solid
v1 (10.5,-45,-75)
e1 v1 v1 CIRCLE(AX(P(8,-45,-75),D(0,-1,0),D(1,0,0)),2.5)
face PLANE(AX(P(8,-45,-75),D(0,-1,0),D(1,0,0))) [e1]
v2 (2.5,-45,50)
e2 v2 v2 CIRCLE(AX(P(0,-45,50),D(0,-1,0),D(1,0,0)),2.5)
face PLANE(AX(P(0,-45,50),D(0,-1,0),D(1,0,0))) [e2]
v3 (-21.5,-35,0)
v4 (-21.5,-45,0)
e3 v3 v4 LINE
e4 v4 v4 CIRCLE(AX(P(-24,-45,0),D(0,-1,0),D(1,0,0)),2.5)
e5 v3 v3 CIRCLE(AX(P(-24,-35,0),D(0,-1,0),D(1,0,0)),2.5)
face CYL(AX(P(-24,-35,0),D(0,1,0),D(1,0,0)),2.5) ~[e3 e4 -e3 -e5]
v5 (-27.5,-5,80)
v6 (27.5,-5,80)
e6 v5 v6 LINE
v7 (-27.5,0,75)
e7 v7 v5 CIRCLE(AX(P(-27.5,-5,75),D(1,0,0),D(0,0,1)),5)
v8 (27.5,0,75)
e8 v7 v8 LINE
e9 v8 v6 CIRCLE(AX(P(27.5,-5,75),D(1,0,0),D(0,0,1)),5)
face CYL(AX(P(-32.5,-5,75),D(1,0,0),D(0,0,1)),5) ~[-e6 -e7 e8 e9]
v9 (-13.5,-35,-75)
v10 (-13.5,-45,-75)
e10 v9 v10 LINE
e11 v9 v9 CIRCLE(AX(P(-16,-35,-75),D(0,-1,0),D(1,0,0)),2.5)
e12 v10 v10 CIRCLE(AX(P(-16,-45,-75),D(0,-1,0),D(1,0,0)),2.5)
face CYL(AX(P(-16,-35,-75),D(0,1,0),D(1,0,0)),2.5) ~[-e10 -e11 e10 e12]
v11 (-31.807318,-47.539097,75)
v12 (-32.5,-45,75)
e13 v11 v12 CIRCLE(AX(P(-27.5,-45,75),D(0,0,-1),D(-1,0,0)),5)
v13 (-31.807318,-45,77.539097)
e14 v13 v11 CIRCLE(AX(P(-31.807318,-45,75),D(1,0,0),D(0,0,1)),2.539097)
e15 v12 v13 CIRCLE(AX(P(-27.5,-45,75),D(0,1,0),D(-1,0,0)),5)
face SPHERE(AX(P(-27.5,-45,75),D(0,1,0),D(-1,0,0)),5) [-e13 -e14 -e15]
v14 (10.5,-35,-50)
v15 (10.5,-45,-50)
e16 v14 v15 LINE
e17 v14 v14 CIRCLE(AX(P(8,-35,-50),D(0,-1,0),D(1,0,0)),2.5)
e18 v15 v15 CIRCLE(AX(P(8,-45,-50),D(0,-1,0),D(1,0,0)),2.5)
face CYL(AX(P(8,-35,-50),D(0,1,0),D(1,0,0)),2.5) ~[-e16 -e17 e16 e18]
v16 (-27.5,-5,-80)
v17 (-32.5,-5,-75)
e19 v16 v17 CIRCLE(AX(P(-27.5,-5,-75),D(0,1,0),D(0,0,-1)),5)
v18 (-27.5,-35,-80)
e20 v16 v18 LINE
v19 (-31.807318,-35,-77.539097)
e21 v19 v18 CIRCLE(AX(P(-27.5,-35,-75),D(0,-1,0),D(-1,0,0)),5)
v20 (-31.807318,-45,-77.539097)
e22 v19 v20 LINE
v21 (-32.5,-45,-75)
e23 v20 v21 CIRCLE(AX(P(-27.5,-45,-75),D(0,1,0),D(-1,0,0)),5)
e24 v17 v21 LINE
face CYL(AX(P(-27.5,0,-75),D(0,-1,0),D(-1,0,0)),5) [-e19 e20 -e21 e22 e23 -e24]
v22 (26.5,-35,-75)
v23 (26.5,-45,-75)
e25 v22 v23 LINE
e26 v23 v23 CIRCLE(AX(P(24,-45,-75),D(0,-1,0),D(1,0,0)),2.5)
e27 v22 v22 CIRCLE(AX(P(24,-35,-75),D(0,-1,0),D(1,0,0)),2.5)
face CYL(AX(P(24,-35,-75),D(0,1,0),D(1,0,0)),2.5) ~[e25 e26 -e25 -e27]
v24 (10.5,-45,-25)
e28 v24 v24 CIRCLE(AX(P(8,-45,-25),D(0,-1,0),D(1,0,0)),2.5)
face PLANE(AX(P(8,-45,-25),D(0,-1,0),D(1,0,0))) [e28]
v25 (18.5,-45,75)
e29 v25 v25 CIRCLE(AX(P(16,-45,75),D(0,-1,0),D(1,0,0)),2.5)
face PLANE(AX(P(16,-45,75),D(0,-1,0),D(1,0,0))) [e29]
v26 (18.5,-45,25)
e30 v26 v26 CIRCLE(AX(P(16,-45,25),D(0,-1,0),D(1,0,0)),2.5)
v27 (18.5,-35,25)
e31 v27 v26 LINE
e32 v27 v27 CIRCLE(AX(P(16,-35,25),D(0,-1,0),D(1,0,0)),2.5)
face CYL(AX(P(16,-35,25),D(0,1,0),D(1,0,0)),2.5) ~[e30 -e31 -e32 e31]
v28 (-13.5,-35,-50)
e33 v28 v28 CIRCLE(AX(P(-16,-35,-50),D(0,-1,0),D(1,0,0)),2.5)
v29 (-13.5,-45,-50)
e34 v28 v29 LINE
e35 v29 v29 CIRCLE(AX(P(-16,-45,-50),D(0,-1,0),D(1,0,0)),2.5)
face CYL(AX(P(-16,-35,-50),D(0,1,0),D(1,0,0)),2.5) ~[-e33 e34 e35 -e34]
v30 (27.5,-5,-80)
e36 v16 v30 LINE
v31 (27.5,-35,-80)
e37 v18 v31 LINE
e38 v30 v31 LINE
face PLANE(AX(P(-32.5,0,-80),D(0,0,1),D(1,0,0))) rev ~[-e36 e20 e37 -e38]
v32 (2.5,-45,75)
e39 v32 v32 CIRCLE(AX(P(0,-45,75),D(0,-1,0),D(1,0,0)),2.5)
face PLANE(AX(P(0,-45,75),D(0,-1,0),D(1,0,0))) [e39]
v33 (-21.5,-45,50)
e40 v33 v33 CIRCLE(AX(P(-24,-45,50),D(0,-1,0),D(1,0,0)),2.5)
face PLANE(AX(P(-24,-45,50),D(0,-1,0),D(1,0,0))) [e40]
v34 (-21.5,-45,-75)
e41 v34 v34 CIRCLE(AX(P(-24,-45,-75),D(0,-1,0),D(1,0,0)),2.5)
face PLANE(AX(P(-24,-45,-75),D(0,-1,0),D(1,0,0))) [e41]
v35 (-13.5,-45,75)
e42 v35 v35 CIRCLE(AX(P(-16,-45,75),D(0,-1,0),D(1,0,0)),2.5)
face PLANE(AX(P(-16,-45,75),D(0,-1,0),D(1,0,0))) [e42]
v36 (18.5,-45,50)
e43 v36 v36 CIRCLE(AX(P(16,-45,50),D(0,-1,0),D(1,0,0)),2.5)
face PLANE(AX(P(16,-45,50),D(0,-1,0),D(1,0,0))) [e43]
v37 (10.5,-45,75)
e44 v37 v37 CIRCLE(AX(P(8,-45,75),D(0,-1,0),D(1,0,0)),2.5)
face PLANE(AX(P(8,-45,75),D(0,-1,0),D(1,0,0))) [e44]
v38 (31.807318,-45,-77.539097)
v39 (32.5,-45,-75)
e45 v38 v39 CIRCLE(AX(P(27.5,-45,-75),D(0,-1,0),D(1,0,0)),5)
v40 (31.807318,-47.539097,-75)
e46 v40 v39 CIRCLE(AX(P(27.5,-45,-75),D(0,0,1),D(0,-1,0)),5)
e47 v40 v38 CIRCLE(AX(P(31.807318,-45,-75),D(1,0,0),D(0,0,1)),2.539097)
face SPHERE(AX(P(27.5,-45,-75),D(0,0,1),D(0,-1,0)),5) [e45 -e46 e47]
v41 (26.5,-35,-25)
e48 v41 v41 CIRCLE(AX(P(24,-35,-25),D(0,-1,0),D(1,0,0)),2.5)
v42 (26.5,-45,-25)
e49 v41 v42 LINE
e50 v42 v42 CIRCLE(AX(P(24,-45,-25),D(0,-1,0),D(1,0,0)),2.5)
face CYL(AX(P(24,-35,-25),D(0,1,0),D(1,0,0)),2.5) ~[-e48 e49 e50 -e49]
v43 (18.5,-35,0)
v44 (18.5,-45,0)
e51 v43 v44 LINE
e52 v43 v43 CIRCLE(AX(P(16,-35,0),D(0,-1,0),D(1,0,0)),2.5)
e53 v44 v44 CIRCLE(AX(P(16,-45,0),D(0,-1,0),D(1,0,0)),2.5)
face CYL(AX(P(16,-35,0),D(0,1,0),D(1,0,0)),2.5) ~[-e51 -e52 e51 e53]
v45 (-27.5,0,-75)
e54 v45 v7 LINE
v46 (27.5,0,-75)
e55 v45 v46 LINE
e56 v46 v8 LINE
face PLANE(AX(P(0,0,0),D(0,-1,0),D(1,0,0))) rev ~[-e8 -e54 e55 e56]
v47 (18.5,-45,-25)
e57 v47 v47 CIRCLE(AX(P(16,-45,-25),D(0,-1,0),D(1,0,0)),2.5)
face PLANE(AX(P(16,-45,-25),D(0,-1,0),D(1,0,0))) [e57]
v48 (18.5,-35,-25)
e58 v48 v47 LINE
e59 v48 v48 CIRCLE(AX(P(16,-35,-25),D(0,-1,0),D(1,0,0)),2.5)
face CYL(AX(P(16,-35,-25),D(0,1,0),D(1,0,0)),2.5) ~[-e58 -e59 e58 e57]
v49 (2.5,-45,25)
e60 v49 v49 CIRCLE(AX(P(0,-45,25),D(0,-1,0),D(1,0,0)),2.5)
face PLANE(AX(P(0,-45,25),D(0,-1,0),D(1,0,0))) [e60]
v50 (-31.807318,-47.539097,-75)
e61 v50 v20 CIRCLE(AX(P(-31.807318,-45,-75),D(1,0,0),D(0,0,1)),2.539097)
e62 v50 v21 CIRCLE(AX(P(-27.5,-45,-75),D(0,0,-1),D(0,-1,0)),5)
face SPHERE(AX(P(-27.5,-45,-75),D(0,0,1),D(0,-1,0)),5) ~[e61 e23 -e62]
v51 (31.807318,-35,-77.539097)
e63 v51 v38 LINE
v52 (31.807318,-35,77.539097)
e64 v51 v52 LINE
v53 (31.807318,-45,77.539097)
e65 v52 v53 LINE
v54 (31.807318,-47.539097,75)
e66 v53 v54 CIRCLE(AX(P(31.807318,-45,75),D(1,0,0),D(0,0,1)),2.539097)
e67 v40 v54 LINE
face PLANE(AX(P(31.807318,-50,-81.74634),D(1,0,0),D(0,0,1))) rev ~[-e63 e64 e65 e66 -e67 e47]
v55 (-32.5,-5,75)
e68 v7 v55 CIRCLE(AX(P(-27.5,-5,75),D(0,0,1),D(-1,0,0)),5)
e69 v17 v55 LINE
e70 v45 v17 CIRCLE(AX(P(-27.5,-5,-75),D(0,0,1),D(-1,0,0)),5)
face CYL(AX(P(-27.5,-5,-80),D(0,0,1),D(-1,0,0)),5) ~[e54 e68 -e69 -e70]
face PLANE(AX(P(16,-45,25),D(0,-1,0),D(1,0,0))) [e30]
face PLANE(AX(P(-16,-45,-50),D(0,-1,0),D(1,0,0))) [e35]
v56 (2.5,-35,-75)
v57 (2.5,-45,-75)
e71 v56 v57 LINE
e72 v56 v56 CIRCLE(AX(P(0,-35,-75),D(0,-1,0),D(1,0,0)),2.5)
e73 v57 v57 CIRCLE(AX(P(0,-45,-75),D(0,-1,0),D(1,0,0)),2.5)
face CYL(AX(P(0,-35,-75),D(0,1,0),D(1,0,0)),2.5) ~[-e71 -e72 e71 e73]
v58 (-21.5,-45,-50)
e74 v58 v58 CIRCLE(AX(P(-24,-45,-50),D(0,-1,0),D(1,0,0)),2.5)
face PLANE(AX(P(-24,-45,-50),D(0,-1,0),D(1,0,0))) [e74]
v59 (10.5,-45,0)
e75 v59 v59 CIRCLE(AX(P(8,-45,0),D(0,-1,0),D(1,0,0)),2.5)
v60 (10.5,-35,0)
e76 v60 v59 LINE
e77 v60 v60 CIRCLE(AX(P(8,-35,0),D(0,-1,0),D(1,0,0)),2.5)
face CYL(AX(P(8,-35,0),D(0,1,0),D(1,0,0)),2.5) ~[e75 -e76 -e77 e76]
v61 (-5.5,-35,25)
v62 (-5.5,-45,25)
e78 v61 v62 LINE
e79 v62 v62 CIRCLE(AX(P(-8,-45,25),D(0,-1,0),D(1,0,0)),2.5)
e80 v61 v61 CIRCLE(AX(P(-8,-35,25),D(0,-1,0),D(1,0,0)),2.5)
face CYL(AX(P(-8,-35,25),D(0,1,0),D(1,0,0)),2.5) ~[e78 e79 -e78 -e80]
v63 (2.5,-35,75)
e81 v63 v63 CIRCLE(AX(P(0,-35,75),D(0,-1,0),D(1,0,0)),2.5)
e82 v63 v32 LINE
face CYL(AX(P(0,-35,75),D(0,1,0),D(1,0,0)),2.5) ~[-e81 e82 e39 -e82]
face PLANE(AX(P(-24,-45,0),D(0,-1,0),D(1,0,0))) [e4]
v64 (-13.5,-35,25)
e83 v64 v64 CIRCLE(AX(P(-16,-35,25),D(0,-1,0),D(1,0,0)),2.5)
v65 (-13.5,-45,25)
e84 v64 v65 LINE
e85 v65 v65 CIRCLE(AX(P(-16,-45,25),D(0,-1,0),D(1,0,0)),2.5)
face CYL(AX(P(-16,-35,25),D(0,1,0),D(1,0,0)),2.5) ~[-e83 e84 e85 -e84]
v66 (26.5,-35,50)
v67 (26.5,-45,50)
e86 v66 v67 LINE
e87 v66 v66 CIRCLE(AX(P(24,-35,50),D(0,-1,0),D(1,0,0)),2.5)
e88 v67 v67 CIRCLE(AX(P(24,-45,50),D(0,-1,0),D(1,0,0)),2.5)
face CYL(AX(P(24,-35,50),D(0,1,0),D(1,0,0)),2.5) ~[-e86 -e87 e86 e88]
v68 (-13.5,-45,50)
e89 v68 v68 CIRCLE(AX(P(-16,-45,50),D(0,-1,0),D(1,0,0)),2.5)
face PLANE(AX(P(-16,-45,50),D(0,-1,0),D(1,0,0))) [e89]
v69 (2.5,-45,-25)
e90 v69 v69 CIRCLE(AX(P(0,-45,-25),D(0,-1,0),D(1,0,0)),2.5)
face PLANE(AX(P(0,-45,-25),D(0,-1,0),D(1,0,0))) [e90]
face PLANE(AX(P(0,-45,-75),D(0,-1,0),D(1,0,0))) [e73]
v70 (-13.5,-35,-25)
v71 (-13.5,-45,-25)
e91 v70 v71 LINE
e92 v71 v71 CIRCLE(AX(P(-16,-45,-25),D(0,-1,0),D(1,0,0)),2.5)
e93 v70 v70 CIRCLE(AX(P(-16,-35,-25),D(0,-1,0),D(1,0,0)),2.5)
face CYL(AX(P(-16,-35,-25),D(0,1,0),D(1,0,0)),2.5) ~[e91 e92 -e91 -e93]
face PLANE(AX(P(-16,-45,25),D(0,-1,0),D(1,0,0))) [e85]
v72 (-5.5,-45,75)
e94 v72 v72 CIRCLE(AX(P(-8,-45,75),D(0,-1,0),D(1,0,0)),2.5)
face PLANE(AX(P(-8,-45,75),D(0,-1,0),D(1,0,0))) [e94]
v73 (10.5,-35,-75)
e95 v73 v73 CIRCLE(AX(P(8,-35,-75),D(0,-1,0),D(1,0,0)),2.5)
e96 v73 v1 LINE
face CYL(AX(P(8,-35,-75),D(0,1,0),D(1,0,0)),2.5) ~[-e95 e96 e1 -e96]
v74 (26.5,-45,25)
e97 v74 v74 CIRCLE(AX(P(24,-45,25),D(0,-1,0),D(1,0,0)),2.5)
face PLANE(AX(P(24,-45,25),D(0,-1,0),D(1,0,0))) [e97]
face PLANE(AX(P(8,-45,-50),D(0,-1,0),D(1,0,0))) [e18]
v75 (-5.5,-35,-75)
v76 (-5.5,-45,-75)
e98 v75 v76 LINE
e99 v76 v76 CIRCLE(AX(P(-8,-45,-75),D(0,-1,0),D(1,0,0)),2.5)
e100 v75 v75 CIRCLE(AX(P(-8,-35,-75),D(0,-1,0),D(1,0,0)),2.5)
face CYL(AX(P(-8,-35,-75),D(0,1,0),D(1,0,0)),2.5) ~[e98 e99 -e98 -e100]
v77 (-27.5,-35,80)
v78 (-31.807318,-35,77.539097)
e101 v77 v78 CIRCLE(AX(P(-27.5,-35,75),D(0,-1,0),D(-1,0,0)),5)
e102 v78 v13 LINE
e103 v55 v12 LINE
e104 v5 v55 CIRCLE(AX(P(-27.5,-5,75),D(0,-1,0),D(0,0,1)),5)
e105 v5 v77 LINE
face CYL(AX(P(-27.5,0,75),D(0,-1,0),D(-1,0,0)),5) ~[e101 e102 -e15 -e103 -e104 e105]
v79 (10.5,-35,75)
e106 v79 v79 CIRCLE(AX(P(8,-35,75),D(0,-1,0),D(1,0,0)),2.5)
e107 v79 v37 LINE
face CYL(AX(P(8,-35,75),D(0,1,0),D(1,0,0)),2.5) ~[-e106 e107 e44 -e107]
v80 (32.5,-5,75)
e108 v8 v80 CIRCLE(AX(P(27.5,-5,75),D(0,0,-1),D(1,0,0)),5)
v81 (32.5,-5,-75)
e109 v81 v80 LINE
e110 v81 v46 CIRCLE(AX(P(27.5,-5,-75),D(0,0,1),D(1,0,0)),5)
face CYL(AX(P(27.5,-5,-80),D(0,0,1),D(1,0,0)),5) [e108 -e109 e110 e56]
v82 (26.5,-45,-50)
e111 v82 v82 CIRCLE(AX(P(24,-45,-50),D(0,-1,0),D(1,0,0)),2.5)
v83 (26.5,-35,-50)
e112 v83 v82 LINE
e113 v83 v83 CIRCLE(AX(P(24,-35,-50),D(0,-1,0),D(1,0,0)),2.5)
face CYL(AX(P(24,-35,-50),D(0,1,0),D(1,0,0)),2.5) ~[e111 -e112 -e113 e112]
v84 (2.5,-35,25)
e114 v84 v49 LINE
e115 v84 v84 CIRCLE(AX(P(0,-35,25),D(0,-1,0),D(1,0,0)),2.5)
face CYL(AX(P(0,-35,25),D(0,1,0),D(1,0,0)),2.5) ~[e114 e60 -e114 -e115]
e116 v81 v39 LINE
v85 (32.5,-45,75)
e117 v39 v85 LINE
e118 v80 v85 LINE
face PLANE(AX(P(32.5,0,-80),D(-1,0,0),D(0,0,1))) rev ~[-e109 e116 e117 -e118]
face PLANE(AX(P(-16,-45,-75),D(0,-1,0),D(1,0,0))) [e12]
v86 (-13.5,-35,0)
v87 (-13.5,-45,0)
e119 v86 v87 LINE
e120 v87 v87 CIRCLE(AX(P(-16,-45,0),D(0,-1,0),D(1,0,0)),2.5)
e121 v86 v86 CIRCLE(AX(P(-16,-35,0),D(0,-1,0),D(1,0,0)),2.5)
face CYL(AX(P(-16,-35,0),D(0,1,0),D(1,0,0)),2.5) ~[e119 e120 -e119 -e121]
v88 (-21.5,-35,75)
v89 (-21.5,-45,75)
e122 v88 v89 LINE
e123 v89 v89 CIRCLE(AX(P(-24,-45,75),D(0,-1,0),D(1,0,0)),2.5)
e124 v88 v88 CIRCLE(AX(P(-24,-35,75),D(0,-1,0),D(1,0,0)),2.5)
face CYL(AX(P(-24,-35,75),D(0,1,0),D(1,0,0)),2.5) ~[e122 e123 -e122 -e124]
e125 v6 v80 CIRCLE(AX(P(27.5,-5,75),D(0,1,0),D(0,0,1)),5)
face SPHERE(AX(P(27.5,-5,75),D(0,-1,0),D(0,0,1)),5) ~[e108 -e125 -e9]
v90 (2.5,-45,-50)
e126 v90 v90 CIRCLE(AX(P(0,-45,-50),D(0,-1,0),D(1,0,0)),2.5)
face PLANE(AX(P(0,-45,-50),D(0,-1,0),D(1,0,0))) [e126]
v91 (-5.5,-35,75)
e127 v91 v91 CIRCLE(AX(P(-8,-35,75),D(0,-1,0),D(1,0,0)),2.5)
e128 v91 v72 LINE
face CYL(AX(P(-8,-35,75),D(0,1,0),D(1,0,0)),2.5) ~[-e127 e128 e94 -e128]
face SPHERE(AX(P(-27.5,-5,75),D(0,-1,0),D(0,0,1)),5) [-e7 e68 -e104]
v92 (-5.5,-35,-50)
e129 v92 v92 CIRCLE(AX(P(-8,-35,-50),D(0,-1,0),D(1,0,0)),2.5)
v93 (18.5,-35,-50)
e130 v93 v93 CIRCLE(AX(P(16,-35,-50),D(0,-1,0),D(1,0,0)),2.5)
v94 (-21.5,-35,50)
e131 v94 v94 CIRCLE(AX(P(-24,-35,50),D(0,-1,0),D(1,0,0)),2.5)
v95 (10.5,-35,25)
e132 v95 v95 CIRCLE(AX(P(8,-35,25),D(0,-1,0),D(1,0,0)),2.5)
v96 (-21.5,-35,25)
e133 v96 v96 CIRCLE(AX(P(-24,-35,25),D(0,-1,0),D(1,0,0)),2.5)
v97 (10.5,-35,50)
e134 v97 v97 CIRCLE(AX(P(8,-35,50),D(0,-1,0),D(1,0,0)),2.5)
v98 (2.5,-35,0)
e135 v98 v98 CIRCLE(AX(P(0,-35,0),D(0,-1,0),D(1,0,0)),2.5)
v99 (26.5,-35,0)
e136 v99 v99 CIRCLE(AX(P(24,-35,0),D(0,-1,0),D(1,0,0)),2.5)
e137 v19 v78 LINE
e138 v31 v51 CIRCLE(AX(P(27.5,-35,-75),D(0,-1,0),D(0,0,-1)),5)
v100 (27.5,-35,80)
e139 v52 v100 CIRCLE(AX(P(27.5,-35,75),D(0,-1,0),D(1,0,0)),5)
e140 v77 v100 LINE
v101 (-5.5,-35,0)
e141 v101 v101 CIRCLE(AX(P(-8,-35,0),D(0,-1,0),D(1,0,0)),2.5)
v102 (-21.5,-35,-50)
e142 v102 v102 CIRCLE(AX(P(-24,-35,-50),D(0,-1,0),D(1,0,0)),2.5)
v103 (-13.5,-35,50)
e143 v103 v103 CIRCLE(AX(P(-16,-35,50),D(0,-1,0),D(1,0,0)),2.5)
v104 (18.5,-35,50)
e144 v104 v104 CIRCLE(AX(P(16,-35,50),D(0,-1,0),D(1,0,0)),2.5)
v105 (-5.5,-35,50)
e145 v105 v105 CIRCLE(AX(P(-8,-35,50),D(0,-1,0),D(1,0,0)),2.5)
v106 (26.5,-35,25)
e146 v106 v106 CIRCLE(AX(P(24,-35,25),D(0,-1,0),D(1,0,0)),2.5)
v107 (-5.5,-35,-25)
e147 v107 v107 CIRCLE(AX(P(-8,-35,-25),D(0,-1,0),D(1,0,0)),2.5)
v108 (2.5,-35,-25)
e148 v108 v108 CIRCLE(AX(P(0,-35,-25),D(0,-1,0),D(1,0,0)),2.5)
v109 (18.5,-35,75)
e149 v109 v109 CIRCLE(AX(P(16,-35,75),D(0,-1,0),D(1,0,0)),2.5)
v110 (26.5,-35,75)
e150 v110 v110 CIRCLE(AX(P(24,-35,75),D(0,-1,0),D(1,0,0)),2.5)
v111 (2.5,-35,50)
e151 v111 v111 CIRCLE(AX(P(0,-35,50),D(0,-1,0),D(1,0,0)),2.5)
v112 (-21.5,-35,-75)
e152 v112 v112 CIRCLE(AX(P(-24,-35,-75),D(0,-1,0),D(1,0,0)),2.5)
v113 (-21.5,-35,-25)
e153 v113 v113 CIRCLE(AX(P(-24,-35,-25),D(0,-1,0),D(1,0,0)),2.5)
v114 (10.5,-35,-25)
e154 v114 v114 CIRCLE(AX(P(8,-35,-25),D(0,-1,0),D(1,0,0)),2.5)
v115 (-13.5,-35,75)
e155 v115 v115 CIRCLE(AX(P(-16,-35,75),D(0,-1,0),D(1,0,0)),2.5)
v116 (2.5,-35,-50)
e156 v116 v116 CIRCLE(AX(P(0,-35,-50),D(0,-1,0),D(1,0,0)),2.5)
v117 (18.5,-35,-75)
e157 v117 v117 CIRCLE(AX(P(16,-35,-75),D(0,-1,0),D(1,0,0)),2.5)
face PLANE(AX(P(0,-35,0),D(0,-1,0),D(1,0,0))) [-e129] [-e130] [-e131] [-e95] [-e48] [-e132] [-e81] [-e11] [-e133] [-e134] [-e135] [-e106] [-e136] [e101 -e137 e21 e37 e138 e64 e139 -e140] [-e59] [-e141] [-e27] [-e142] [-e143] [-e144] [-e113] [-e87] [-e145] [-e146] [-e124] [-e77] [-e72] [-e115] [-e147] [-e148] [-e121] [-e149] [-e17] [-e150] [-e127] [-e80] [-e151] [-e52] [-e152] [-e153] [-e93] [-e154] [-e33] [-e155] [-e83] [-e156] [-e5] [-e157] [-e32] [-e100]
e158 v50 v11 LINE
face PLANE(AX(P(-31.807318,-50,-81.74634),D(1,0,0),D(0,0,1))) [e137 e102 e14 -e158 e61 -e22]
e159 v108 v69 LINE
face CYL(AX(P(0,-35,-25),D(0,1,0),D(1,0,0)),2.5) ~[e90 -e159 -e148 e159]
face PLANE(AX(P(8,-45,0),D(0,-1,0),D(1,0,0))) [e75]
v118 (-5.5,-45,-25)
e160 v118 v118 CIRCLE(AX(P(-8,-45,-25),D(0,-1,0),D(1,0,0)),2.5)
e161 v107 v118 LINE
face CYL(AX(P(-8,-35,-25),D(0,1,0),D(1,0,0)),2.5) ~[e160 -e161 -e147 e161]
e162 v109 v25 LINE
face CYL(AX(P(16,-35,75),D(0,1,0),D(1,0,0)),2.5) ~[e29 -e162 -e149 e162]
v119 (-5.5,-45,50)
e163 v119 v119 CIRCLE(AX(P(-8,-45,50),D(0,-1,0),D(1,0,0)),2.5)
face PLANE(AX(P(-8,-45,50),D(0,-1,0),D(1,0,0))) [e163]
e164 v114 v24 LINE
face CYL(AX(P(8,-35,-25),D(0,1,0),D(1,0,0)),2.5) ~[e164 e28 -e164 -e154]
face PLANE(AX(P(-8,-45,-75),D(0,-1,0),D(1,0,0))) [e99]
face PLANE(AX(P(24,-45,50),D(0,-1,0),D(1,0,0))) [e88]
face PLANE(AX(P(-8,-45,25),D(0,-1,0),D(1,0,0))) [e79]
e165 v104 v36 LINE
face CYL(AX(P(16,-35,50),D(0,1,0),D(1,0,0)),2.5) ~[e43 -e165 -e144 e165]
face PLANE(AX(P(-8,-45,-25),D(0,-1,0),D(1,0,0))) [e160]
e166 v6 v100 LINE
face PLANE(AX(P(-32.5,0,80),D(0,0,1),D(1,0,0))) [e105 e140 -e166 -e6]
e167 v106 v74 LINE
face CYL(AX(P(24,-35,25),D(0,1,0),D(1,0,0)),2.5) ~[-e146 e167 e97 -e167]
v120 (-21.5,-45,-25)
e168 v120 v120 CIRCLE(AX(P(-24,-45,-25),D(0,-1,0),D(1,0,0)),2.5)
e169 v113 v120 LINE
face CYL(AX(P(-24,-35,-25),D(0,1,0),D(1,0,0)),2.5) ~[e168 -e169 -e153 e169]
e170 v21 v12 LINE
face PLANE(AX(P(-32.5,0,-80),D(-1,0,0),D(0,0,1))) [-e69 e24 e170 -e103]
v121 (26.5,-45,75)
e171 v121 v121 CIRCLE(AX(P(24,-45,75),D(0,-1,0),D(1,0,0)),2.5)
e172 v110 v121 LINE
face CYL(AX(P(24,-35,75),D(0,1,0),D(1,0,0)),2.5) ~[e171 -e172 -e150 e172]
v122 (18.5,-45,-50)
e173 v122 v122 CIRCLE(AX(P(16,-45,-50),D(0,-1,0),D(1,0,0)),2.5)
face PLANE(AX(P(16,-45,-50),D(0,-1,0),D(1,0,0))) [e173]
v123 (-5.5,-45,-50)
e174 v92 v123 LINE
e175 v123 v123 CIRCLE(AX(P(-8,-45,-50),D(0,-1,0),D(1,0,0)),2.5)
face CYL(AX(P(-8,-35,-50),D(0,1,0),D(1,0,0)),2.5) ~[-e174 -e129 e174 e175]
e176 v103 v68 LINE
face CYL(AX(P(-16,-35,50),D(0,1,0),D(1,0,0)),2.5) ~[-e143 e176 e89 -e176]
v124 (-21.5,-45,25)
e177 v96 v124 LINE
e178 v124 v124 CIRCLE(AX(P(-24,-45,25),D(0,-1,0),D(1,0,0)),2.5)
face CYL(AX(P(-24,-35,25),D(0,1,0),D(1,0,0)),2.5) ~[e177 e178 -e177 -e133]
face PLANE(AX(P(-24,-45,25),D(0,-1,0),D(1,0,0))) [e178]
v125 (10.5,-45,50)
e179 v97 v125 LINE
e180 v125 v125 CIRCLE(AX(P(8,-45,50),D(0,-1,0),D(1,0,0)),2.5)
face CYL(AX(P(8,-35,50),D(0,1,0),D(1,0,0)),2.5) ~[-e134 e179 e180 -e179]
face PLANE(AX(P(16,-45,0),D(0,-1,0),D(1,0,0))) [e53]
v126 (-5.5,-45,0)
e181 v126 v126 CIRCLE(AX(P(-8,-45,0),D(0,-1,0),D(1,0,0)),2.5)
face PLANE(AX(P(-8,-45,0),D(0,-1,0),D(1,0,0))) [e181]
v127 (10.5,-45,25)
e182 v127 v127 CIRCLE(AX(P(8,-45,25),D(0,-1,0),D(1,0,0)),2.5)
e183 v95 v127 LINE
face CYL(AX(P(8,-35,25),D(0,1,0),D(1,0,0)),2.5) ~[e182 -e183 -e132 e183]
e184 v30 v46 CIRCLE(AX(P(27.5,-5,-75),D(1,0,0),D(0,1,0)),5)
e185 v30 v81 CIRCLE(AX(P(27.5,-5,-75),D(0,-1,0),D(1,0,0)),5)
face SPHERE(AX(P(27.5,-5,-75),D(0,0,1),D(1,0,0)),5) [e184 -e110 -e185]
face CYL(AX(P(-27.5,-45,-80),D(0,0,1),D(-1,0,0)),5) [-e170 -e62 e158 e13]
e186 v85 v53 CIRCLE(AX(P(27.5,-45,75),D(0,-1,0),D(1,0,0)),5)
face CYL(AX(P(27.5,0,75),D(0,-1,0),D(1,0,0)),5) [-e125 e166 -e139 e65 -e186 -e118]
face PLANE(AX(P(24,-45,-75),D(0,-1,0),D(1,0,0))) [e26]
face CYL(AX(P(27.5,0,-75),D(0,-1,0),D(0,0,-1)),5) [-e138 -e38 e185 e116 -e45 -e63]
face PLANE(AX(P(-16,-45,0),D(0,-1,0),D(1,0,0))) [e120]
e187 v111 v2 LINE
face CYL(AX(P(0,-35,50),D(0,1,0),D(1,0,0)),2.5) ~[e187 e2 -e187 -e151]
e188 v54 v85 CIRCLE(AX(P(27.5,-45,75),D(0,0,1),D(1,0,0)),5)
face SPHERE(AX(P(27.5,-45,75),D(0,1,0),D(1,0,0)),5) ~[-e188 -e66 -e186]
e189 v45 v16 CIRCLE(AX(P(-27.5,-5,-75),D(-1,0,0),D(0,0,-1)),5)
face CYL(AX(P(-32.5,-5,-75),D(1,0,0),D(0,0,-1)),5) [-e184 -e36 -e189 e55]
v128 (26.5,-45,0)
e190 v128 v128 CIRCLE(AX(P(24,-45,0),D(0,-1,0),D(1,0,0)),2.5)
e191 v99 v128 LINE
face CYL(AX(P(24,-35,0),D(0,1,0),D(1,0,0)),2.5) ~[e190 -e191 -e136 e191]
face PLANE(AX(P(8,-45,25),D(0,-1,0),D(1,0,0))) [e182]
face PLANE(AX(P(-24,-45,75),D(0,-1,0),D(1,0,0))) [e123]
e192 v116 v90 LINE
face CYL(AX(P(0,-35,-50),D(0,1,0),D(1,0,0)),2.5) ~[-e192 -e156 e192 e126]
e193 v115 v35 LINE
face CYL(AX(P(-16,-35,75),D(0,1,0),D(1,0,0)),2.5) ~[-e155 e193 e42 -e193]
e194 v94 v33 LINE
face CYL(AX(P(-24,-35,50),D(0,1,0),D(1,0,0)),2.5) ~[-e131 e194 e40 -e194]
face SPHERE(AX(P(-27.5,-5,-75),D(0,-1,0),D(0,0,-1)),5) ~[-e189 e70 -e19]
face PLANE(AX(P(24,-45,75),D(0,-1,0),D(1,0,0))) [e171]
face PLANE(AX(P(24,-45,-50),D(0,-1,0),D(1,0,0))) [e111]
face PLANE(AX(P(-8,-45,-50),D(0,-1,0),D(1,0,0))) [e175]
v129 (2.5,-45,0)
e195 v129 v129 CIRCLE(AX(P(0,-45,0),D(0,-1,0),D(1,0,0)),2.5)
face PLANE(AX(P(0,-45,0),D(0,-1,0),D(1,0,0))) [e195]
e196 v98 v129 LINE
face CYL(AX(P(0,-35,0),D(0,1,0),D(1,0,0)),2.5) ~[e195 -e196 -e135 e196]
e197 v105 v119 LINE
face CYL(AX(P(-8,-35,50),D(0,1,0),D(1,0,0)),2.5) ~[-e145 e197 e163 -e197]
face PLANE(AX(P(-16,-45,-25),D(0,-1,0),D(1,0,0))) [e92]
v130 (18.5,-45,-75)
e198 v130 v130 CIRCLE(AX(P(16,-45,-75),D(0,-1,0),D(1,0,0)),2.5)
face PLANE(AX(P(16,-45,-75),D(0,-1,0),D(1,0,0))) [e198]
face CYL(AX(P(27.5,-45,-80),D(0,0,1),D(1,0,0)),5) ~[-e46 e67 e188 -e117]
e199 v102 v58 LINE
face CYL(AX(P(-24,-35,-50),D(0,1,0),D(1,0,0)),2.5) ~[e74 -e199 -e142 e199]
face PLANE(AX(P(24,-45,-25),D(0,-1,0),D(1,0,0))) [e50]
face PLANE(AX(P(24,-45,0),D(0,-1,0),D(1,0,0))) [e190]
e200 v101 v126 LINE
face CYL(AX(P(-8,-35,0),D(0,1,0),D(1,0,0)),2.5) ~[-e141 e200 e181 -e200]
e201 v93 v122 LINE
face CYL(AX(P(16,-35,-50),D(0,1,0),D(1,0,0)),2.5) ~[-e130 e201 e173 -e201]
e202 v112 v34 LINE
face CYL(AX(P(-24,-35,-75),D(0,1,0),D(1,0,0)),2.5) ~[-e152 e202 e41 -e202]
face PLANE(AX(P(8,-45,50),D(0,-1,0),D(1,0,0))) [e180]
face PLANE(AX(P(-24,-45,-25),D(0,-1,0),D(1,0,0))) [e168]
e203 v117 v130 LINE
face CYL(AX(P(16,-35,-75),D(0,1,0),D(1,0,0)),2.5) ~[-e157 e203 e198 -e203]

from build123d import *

# Parameters (mm, degrees)
F0_W     = 65
F0_H     = 160
F1_DEPTH = 50
F2_R     = 5
F3_W     = 63.614636
F3_H     = 163.49268
F4_DEPTH = 15
F5_R     = 2.5
F6_DEPTH = 10


with BuildPart() as f1:
    # F0 (on Front) → F1 (new body)
    with BuildSketch(Plane.XZ):
        Rectangle(F0_W, F0_H)
    extrude(amount=F1_DEPTH)

    # F2
    f2_edges = [f1.edges().sort_by_distance(p)[0] for p in [
        (32.5, -25, 80),
        (-32.5, -25, 80),
        (0, 0, 80),
        (32.5, 0, 0),
        (32.5, -50, 0),
        (-32.5, -50, 0),
        (0, -50, -80),
        (32.5, -25, -80),
        (-32.5, -25, -80),
        (0, 0, -80),
        (-32.5, 0, 0),
        (0, -50, 80),
    ]]
    fillet(f2_edges, radius=F2_R)

    # F3 (on face) → F4 (cut)
    with BuildSketch(Plane.XZ.offset(50)):
        Rectangle(F3_W, F3_H)
    extrude(amount=-F4_DEPTH, mode=Mode.SUBTRACT)

    # F5 (on face) → F6 (join)
    with BuildSketch(Plane.XZ.offset(35)):
        Circle(F5_R)
        with Locations((0, 25)):
            Circle(F5_R)
        with Locations((0, 50)):
            Circle(F5_R)
        with Locations((0, 75)):
            Circle(F5_R)
        with Locations((8, 0)):
            Circle(F5_R)
        with Locations((8, 25)):
            Circle(F5_R)
        with Locations((8, 50)):
            Circle(F5_R)
        with Locations((8, 75)):
            Circle(F5_R)
        with Locations((16, 0)):
            Circle(F5_R)
        with Locations((16, 25)):
            Circle(F5_R)
        with Locations((16, 50)):
            Circle(F5_R)
        with Locations((16, 75)):
            Circle(F5_R)
        with Locations((24, 0)):
            Circle(F5_R)
        with Locations((24, 25)):
            Circle(F5_R)
        with Locations((24, 50)):
            Circle(F5_R)
        with Locations((24, 75)):
            Circle(F5_R)
        with Locations((-8, 0)):
            Circle(F5_R)
        with Locations((-24, 0)):
            Circle(F5_R)
        with Locations((-24, 25)):
            Circle(F5_R)
        with Locations((-16, 0)):
            Circle(F5_R)
        with Locations((-24, 50)):
            Circle(F5_R)
        with Locations((-16, 50)):
            Circle(F5_R)
        with Locations((-24, 75)):
            Circle(F5_R)
        with Locations((-8, 75)):
            Circle(F5_R)
        with Locations((-16, 25)):
            Circle(F5_R)
        with Locations((-8, 50)):
            Circle(F5_R)
        with Locations((-16, 75)):
            Circle(F5_R)
        with Locations((-8, 25)):
            Circle(F5_R)
        with Locations((0, -25)):
            Circle(F5_R)
        with Locations((0, -50)):
            Circle(F5_R)
        with Locations((0, -75)):
            Circle(F5_R)
        with Locations((16, -25)):
            Circle(F5_R)
        with Locations((16, -50)):
            Circle(F5_R)
        with Locations((-16, -25)):
            Circle(F5_R)
        with Locations((-8, -50)):
            Circle(F5_R)
        with Locations((24, -25)):
            Circle(F5_R)
        with Locations((-16, -75)):
            Circle(F5_R)
        with Locations((-24, -75)):
            Circle(F5_R)
        with Locations((8, -75)):
            Circle(F5_R)
        with Locations((24, -50)):
            Circle(F5_R)
        with Locations((-8, -25)):
            Circle(F5_R)
        with Locations((-24, -50)):
            Circle(F5_R)
        with Locations((8, -50)):
            Circle(F5_R)
        with Locations((24, -75)):
            Circle(F5_R)
        with Locations((-16, -50)):
            Circle(F5_R)
        with Locations((8, -25)):
            Circle(F5_R)
        with Locations((-24, -25)):
            Circle(F5_R)
        with Locations((-8, -75)):
            Circle(F5_R)
        with Locations((16, -75)):
            Circle(F5_R)
    extrude(amount=F6_DEPTH)


solid = f1.part
